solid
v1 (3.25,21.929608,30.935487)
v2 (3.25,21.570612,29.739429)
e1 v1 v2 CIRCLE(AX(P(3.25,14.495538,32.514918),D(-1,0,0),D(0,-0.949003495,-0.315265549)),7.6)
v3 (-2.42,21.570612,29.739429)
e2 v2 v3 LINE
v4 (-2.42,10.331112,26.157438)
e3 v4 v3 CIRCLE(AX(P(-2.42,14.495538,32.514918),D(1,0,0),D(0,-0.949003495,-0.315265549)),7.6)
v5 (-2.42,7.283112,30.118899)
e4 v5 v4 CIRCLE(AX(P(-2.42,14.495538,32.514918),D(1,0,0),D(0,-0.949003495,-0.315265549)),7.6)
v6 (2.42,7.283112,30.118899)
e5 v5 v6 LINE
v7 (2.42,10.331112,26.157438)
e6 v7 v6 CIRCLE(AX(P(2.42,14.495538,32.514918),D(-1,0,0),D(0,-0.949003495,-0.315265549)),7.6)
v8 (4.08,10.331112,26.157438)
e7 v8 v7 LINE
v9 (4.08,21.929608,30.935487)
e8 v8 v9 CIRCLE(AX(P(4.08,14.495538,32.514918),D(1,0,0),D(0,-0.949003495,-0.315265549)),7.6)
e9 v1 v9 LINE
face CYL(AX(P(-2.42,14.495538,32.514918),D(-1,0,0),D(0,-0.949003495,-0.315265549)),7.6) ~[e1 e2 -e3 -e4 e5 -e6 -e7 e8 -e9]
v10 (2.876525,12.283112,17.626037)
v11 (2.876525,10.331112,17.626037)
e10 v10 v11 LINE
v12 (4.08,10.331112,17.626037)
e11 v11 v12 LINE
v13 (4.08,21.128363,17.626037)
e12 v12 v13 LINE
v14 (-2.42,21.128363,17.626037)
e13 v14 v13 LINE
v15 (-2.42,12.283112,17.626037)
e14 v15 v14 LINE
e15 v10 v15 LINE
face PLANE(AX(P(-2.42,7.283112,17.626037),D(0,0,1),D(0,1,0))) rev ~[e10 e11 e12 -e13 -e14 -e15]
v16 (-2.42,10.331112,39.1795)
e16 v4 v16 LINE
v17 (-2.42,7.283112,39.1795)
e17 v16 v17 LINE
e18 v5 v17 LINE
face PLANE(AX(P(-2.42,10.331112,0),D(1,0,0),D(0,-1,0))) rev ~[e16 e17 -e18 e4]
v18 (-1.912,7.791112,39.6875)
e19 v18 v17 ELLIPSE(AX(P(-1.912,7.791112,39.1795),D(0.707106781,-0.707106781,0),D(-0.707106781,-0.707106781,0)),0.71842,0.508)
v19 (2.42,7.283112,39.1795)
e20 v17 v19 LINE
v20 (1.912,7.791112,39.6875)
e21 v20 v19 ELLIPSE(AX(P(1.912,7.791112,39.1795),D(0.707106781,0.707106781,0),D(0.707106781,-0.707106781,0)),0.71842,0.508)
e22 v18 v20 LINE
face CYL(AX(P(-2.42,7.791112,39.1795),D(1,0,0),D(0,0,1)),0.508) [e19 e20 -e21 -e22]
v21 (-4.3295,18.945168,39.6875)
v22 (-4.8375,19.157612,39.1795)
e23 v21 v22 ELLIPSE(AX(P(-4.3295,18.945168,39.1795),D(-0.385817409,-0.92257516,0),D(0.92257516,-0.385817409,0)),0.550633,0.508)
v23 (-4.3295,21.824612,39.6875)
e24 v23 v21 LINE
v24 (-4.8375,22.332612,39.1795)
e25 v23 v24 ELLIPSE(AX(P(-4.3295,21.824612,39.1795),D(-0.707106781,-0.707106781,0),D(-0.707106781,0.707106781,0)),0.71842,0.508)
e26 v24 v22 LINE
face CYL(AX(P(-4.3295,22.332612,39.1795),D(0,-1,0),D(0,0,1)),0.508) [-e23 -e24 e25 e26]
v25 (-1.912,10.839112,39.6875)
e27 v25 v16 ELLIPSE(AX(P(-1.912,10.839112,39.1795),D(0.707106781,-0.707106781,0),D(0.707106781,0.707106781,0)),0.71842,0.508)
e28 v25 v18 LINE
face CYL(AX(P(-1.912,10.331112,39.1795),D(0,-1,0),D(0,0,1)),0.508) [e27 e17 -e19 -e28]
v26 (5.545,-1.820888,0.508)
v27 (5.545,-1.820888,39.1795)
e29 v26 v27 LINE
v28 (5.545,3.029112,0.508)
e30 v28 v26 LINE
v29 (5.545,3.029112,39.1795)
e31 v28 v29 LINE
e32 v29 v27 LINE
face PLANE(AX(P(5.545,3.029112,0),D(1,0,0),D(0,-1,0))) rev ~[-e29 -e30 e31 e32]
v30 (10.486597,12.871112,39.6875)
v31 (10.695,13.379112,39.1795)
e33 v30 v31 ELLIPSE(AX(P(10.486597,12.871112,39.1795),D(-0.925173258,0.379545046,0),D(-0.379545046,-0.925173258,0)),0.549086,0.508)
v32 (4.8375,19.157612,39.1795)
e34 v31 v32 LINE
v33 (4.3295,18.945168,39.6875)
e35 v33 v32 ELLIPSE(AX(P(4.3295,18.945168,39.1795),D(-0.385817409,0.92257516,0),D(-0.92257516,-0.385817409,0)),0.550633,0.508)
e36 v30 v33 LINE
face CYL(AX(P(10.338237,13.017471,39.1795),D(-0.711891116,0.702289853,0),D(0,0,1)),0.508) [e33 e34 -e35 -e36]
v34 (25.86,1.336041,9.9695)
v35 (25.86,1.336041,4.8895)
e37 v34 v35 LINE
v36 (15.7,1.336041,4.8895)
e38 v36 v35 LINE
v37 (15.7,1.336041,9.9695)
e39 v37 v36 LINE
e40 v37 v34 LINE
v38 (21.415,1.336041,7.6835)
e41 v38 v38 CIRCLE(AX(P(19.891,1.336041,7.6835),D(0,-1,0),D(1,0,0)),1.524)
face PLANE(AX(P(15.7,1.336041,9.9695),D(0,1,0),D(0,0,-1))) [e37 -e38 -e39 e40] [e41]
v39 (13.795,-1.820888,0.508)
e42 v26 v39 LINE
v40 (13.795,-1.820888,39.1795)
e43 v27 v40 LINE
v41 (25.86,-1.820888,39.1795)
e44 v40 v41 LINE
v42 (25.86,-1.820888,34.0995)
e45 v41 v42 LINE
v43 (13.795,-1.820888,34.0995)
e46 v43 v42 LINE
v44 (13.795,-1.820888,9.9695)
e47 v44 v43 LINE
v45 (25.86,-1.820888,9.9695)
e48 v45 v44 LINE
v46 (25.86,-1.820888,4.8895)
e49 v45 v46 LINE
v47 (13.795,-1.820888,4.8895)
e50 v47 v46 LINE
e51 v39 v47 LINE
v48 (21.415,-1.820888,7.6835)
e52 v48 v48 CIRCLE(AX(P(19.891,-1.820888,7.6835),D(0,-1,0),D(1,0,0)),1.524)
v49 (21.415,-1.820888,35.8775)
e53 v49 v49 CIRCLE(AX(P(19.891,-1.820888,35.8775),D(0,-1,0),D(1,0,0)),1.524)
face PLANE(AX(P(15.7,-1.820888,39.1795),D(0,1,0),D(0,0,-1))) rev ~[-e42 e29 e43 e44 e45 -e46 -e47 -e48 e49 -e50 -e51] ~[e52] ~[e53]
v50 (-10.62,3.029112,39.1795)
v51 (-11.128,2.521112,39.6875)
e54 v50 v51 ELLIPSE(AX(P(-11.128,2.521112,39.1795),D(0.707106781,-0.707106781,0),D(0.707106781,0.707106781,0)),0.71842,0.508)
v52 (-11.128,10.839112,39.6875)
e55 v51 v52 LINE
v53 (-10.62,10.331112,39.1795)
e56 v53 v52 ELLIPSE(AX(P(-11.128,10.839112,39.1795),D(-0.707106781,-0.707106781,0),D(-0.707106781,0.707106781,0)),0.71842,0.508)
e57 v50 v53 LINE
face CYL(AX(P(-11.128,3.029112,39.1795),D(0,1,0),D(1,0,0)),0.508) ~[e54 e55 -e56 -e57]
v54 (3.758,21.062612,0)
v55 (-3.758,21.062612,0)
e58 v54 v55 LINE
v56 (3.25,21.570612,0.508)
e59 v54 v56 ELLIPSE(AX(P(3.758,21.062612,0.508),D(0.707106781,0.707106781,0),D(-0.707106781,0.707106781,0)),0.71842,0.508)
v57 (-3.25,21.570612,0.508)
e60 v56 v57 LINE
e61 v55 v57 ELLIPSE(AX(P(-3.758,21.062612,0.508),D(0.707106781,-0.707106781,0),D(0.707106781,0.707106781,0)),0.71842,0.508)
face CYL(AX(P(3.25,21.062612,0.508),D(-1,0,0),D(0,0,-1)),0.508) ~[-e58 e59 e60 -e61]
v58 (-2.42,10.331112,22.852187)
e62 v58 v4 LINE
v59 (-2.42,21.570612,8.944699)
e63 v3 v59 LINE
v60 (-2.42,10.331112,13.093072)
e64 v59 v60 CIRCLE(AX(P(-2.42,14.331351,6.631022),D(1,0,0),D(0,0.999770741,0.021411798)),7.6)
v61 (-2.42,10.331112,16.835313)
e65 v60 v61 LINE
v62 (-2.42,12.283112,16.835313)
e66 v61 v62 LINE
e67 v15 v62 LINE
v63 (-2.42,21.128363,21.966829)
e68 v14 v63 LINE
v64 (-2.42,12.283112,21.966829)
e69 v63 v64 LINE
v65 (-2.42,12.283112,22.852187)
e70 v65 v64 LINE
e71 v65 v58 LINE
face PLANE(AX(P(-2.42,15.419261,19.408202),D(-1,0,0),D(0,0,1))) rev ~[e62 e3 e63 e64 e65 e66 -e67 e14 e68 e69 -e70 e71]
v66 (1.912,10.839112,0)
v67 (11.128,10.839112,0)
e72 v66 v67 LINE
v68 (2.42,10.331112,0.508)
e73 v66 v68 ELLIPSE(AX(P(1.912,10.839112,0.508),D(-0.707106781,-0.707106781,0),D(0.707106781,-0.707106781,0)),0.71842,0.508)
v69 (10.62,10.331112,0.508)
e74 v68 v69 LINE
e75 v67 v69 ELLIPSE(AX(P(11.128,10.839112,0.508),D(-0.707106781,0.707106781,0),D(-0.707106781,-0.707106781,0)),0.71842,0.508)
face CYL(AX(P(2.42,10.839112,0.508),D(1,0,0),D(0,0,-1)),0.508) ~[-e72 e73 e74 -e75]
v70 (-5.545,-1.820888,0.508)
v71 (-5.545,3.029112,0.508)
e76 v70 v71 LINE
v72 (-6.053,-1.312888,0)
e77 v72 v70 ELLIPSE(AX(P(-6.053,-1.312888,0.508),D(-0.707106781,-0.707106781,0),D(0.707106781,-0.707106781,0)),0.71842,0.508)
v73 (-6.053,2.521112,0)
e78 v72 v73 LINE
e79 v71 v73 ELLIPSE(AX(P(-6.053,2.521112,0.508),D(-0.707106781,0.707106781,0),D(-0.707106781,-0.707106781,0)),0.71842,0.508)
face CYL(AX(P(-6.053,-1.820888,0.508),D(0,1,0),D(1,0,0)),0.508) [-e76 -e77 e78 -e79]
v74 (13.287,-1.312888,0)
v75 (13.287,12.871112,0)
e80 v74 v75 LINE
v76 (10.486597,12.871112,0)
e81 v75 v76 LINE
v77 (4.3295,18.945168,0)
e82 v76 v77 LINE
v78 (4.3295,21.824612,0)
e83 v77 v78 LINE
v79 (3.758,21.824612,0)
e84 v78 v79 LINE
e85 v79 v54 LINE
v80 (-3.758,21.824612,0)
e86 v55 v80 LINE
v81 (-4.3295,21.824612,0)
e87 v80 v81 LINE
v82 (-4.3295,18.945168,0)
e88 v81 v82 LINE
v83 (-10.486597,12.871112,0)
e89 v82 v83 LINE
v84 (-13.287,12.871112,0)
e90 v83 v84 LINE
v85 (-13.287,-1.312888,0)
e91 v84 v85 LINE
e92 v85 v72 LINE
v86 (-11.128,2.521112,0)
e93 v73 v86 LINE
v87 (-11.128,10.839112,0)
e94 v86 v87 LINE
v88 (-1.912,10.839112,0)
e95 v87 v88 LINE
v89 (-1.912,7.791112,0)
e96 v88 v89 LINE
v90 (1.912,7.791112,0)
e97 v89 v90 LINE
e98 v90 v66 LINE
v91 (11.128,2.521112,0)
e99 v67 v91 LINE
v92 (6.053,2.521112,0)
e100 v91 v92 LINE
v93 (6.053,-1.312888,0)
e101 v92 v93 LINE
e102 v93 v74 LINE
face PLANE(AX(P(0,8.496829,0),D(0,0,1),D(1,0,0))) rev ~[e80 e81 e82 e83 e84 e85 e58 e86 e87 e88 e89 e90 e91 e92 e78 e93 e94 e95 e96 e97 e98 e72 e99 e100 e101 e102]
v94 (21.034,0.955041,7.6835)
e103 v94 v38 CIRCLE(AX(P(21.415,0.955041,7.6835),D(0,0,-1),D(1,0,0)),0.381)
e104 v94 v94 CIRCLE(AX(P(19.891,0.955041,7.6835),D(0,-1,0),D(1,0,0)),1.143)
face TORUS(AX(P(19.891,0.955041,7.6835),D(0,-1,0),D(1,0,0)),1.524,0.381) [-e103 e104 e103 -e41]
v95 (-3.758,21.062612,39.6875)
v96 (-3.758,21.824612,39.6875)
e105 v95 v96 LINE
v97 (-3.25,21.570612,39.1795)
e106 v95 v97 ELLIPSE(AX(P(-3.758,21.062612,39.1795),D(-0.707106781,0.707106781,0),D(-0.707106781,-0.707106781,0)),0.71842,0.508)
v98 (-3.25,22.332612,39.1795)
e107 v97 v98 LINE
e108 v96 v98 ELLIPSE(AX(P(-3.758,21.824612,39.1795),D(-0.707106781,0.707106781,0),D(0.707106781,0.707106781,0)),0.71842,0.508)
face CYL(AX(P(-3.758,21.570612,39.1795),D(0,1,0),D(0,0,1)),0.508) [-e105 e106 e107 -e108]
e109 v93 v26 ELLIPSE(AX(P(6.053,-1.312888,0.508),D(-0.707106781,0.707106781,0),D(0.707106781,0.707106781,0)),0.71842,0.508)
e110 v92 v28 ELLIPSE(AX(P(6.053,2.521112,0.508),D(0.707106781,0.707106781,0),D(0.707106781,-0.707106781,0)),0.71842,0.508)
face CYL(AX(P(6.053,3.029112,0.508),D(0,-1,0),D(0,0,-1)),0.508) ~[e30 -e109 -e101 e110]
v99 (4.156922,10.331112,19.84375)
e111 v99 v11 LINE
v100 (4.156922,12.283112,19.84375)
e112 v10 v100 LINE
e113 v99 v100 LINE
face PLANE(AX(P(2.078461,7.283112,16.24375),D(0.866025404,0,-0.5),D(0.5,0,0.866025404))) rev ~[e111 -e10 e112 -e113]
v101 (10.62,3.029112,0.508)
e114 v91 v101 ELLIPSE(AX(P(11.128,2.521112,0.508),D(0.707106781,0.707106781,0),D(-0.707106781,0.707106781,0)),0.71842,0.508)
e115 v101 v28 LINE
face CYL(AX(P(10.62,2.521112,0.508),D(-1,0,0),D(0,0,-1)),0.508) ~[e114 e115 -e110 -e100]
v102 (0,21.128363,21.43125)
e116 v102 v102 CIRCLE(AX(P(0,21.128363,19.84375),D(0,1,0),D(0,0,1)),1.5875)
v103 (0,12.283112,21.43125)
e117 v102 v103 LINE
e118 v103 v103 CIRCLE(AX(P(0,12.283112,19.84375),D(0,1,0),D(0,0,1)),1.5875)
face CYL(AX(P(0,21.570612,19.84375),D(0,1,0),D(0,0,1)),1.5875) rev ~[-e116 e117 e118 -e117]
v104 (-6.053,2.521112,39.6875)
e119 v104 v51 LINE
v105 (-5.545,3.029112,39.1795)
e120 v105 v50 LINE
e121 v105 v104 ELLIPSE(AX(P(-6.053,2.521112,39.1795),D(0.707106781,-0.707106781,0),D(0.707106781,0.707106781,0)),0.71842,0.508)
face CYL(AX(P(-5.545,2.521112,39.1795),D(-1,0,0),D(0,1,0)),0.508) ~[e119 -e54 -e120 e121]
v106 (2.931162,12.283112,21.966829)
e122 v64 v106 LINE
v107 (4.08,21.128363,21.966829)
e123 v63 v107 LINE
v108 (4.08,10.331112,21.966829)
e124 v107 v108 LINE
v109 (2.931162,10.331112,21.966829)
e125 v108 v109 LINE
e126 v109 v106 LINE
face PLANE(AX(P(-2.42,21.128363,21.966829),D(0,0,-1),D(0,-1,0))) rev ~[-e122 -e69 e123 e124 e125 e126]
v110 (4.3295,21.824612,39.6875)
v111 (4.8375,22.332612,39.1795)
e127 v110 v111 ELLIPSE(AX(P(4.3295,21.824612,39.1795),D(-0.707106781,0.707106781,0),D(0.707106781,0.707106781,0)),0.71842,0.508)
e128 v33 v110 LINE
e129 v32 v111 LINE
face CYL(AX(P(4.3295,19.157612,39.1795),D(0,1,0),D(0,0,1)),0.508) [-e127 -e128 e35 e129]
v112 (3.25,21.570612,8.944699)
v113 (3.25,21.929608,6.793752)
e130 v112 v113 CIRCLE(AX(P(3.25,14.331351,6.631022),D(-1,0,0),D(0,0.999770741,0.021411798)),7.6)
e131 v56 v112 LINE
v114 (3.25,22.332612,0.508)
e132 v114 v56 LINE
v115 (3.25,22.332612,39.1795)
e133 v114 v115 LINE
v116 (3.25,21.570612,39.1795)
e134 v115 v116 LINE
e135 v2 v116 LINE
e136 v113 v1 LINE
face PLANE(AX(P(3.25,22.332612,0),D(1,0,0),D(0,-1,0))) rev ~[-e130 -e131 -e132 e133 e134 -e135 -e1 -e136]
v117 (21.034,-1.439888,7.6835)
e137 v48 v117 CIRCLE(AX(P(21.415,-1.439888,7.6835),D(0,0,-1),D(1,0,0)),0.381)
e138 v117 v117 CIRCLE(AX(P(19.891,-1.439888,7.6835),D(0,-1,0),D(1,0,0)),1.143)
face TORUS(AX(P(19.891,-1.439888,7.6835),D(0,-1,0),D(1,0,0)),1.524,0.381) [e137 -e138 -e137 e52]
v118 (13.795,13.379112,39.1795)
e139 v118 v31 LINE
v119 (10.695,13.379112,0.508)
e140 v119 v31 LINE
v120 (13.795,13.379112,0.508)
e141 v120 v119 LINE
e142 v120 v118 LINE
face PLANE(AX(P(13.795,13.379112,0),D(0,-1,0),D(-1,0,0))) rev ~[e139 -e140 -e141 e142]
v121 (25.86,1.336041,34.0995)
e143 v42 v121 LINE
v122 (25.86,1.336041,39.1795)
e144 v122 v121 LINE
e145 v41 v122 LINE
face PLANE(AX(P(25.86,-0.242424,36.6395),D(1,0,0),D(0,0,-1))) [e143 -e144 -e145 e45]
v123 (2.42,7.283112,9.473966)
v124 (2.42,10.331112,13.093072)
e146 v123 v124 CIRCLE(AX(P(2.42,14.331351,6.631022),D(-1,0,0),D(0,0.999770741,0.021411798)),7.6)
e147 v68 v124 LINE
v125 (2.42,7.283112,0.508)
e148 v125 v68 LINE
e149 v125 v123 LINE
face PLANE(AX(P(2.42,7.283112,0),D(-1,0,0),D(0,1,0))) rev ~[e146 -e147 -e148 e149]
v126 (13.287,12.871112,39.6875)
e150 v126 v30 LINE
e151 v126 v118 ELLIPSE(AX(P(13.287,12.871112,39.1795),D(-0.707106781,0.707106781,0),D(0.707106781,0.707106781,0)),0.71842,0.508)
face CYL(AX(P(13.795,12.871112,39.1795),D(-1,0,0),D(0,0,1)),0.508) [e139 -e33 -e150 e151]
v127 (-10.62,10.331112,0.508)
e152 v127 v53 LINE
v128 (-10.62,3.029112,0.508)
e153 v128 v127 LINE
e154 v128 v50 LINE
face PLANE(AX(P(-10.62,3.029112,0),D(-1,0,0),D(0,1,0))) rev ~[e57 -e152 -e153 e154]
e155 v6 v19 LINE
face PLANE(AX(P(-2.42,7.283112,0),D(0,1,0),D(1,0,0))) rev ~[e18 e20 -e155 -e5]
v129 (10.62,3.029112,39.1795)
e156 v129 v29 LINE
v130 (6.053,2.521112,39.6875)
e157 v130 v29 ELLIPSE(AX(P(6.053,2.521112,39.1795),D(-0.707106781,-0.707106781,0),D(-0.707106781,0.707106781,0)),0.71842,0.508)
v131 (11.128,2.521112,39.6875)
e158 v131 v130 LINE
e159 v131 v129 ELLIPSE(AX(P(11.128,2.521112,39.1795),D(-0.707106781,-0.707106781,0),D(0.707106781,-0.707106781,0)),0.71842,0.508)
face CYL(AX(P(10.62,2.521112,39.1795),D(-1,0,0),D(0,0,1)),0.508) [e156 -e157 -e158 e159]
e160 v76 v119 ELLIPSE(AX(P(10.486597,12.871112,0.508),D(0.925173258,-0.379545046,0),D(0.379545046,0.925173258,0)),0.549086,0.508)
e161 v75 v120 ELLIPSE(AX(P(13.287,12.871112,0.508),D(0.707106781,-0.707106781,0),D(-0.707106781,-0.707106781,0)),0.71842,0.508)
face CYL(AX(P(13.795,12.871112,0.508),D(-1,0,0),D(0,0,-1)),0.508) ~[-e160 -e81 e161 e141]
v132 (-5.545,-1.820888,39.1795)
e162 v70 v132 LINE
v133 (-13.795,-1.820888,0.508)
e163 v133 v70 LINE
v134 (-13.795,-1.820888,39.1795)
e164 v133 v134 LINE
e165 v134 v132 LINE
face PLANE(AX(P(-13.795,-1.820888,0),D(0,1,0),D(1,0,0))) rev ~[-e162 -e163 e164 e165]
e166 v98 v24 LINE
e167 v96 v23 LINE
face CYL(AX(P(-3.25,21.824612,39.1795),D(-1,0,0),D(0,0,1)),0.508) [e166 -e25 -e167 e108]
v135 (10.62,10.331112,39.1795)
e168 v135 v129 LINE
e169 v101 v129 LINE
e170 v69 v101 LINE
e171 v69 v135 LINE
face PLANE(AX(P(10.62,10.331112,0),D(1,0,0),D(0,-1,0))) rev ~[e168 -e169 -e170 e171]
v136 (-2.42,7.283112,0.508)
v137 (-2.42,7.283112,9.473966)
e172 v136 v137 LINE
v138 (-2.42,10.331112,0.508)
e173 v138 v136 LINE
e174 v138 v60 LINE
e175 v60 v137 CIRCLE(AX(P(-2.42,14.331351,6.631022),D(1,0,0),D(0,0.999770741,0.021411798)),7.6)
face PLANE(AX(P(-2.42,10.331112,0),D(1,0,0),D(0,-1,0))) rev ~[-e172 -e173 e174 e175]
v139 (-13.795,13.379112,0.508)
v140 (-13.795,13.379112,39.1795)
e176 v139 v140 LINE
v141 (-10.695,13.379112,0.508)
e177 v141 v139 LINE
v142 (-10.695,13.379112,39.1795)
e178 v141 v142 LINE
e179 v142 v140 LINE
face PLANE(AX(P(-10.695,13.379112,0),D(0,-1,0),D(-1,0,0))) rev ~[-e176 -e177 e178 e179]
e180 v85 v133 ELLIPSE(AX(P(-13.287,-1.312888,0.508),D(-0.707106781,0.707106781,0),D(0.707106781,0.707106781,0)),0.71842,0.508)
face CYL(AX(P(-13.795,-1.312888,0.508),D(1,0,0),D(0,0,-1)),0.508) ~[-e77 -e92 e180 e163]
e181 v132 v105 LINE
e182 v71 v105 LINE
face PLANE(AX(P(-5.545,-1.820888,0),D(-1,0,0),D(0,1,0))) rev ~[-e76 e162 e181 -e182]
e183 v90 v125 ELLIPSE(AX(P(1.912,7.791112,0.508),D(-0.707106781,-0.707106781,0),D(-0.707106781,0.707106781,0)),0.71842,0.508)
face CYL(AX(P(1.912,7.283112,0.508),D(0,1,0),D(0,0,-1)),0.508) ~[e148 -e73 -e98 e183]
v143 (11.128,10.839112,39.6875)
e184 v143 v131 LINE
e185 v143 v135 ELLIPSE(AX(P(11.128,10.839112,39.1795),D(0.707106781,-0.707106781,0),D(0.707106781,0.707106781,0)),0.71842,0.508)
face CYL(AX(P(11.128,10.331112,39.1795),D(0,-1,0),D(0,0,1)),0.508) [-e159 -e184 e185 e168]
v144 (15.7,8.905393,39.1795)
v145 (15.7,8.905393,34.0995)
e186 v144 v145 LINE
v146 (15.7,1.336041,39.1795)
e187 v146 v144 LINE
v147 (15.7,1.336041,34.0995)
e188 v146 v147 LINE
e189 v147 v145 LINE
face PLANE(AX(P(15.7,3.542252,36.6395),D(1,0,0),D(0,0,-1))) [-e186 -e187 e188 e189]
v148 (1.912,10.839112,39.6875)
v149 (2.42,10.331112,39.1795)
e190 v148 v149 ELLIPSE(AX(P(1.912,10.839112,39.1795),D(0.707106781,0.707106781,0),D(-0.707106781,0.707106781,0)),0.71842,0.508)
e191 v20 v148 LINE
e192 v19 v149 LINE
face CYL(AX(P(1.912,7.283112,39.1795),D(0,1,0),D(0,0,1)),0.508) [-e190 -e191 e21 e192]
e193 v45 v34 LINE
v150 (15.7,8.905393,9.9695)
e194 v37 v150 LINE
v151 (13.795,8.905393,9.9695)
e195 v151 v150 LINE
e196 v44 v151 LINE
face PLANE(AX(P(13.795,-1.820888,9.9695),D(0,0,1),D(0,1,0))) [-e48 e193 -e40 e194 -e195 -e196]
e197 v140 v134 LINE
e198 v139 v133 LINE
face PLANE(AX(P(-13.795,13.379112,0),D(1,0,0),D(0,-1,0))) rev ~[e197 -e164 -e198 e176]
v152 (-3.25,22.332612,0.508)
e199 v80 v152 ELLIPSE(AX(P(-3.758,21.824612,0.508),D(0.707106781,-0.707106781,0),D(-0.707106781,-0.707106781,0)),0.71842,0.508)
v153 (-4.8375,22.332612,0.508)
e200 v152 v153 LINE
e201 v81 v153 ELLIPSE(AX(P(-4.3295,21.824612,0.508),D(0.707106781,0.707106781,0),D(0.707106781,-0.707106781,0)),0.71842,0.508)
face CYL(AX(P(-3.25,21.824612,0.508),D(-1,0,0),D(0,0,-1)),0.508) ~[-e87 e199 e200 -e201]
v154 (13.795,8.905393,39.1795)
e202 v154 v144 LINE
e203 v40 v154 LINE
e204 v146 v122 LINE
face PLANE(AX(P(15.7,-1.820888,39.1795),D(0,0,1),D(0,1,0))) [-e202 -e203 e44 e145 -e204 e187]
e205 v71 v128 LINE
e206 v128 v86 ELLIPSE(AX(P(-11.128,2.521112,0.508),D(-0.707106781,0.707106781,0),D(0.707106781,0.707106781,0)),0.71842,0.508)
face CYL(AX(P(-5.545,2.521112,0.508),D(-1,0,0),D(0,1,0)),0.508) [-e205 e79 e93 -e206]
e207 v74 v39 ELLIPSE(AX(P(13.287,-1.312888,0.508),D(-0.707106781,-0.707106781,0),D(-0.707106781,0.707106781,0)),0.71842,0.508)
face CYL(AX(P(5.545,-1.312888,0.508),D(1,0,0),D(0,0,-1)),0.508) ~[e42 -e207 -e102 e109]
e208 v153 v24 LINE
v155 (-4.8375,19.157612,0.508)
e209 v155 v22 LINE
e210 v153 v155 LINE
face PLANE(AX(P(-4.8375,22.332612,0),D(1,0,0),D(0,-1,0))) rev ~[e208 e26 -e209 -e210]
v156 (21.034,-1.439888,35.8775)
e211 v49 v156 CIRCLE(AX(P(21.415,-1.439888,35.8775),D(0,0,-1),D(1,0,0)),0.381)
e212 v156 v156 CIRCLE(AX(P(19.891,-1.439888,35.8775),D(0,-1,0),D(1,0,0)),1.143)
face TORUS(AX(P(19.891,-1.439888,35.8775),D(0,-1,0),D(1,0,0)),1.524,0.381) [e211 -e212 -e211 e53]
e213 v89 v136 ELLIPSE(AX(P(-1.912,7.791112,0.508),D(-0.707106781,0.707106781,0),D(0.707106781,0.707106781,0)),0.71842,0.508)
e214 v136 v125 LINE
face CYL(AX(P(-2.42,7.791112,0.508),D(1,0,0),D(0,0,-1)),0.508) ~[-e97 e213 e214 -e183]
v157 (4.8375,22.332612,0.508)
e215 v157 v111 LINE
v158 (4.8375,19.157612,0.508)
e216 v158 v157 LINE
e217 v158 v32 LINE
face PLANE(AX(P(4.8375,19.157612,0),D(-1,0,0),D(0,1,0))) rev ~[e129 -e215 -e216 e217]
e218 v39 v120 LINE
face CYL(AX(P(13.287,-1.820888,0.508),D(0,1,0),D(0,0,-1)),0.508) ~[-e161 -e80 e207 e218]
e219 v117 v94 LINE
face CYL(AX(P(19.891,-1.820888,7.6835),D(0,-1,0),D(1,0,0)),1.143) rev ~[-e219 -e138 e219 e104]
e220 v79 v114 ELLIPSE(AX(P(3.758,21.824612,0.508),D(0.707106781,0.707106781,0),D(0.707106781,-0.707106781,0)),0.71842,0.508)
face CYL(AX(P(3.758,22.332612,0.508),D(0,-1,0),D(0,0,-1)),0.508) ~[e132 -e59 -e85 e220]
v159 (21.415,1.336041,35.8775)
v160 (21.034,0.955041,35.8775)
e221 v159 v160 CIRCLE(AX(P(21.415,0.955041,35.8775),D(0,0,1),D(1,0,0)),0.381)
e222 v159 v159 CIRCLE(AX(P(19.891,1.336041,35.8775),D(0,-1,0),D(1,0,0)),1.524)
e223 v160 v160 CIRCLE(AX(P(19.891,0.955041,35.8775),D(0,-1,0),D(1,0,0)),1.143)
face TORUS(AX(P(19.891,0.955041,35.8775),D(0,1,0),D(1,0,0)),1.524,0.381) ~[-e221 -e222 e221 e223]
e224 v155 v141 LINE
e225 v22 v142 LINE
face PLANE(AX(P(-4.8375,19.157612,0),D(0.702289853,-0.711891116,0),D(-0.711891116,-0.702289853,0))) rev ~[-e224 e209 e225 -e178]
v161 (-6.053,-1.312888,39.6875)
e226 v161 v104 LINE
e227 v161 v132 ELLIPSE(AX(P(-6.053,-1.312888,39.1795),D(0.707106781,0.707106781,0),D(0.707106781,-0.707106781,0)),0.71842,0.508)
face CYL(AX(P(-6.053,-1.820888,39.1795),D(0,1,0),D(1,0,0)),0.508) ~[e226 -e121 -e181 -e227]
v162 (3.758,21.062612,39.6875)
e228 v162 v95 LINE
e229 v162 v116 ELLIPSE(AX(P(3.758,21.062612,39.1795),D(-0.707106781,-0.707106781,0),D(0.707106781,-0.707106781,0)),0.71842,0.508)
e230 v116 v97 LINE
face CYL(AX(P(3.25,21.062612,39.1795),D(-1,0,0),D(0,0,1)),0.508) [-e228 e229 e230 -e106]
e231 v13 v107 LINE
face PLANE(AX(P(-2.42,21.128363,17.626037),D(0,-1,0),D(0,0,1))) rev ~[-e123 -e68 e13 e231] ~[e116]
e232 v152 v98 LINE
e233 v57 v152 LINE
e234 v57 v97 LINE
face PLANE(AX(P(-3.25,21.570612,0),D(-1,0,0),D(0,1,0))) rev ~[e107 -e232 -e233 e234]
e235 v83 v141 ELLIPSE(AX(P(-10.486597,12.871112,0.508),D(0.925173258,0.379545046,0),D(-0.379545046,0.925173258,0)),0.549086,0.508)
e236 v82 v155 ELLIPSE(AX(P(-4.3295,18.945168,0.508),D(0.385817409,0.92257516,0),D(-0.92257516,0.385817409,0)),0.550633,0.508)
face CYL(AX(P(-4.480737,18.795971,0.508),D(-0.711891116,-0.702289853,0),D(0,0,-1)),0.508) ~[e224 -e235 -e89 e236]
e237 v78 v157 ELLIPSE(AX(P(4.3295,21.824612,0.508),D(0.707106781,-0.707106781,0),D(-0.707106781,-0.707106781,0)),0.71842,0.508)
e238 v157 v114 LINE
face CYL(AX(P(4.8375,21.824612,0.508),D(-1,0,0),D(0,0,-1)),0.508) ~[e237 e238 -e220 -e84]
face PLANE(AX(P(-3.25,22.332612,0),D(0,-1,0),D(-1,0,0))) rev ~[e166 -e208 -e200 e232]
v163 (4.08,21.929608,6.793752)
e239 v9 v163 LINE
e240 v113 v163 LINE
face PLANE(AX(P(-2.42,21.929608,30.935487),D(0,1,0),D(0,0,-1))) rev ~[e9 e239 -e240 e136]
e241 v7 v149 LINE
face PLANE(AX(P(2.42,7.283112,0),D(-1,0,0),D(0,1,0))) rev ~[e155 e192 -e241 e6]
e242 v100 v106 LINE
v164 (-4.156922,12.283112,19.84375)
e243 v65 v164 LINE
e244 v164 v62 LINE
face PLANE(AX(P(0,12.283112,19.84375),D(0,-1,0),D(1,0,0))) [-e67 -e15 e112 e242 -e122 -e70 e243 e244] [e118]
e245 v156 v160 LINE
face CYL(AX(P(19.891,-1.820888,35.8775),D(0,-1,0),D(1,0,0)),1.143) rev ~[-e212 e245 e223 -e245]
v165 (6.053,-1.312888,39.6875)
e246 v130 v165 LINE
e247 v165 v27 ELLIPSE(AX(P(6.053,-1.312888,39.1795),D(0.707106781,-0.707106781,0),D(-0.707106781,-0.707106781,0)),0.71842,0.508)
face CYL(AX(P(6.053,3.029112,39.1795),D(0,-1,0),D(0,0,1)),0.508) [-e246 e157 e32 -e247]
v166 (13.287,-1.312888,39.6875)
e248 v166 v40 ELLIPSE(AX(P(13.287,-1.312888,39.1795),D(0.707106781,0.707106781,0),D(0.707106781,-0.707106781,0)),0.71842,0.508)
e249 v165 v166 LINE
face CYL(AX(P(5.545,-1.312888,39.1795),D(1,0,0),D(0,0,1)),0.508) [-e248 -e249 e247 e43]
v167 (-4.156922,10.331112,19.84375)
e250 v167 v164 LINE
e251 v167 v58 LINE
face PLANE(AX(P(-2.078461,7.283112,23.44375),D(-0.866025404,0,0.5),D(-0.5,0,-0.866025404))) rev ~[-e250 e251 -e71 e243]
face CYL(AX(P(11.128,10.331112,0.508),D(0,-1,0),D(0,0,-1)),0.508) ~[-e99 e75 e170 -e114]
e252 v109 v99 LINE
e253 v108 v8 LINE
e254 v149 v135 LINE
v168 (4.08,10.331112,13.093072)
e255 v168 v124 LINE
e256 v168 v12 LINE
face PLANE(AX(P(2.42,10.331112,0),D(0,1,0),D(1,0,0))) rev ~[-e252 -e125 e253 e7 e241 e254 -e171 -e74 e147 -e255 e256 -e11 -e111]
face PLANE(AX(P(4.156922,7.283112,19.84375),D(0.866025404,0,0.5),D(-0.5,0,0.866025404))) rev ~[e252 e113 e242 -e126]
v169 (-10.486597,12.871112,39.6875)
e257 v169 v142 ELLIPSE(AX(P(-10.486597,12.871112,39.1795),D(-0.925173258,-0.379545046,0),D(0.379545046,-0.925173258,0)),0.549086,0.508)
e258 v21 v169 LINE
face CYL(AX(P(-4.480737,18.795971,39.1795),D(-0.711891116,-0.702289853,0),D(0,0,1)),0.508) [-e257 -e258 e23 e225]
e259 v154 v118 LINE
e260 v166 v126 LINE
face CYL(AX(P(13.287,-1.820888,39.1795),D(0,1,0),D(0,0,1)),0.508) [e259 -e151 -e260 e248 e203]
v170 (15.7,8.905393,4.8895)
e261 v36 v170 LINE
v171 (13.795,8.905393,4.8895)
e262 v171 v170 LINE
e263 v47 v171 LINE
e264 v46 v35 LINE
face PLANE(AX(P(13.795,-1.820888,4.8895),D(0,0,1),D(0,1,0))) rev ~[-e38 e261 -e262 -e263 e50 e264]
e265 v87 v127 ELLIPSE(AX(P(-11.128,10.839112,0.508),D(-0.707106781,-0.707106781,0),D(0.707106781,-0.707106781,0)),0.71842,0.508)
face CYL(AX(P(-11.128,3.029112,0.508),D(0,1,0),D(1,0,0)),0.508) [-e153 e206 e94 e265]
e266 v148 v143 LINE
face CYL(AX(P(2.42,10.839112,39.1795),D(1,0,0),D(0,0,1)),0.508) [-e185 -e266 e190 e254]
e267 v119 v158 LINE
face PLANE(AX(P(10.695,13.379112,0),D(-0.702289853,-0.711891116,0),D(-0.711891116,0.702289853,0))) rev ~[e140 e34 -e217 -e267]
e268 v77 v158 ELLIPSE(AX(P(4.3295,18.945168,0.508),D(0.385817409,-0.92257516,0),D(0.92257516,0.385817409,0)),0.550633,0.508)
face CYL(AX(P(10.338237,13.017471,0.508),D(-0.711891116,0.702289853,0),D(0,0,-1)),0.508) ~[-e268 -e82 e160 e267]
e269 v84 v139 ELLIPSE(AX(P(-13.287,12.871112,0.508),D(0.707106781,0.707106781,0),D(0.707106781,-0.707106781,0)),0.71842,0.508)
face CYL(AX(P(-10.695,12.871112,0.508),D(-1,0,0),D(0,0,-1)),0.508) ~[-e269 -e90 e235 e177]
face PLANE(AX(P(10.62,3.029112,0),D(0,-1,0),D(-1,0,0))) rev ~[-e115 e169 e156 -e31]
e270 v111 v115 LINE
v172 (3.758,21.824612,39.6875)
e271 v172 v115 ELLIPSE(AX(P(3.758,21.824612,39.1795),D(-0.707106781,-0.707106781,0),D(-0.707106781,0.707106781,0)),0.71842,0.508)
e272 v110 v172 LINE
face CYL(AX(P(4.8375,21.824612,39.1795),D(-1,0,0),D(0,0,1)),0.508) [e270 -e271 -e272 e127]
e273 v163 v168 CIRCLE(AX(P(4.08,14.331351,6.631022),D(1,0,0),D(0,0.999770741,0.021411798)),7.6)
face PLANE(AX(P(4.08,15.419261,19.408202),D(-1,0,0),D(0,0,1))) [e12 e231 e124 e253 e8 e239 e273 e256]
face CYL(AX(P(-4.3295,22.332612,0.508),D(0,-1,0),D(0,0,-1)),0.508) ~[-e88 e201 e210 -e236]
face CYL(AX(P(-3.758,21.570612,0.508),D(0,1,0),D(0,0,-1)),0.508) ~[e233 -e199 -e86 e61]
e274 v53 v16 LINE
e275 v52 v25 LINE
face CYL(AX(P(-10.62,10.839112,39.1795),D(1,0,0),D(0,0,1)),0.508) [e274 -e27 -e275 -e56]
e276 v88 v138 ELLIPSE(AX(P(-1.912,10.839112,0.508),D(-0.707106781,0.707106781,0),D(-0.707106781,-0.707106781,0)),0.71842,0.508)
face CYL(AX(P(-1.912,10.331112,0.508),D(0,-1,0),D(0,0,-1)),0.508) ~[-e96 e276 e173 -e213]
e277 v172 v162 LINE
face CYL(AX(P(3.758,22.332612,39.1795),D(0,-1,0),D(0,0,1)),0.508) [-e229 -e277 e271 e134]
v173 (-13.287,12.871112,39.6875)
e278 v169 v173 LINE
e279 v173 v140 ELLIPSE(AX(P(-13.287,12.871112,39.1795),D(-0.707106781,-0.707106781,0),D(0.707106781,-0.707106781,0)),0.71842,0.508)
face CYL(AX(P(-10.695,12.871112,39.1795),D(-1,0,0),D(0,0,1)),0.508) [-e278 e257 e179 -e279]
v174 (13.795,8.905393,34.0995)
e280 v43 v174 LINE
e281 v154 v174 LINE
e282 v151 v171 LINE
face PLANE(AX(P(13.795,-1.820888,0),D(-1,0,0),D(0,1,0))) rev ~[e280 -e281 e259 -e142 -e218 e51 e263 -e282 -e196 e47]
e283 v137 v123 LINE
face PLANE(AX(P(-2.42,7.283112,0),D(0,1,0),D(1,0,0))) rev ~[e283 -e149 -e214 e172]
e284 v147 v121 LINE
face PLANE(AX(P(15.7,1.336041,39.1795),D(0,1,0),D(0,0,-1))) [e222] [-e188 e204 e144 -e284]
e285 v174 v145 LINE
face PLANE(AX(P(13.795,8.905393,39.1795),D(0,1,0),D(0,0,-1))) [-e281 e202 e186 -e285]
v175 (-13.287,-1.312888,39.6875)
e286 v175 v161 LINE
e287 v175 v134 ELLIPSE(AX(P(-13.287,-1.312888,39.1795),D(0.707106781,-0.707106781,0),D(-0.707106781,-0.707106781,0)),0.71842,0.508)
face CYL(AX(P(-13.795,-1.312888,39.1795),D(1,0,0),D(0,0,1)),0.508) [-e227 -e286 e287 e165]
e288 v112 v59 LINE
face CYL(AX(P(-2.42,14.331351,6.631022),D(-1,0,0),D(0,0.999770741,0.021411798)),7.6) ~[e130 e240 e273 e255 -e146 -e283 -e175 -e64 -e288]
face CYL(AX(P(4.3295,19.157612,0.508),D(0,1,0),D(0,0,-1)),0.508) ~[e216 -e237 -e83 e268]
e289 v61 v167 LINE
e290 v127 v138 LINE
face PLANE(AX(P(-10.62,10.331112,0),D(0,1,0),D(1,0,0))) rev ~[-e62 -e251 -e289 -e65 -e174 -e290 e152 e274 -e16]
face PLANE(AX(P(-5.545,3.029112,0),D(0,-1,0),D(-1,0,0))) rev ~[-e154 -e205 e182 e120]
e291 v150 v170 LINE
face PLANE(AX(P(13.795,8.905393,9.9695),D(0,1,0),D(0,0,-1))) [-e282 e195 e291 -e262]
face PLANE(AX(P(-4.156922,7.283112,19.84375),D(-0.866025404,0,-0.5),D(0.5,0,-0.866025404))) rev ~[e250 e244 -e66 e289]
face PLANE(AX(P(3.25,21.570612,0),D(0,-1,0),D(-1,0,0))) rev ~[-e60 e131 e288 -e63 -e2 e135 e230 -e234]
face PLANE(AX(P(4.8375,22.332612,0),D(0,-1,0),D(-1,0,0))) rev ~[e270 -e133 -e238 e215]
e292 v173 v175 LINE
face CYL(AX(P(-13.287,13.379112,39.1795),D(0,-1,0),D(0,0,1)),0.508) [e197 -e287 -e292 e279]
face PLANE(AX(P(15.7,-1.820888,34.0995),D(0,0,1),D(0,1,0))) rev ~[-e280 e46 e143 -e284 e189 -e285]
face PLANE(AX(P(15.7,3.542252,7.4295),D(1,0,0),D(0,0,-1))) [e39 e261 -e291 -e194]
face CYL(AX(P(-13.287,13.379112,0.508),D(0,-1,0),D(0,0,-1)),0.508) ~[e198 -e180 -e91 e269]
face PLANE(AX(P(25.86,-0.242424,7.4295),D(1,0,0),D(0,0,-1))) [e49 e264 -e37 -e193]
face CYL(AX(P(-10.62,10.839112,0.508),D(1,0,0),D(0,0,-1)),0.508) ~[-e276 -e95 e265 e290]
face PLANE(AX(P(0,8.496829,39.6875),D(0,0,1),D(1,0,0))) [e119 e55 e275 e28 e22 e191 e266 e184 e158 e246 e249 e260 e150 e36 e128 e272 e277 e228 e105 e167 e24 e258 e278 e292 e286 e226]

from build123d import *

# Parameters (mm, degrees)
BOSS_EXTRUDE1_DEPTH = 39.6875
SKETCH3_R           = 1.5875
CUT_EXTRUDE1_DEPTH  = 39.6875
CUT_EXTRUDE3_DEPTH  = 5
CUT_EXTRUDE5_DEPTH  = 6.5
FILLET1_R           = 0.508
SKETCH7_W           = 5.08
SKETCH7_H           = 10.72628101
BOSS_EXTRUDE2_DEPTH = 1.905
SKETCH8_W           = 5.08
SKETCH8_H           = 3.15692897
BOSS_EXTRUDE3_DEPTH = 10.16
CUT_EXTRUDE7_REACH  = 55.172
SKETCH9_R           = 1.143
FILLET2_R           = 0.381


with BuildPart() as part:
    # Sketch2 → Boss-Extrude1 (new body)
    with BuildSketch(Plane.XY):
        Polygon((-5.545, 3.02911179), (-10.62, 3.02911179), (-10.62, 10.33111179), (-2.42, 10.33111179), (-2.42, 7.28311179), (2.42, 7.28311179), (2.42, 10.33111179), (10.62, 10.33111179), (10.62, 3.02911179), (5.545, 3.02911179), (5.545, -1.82088821), (13.795, -1.82088821), (13.795, 13.37911179), (10.695, 13.37911179), (4.8375, 19.15761179), (4.8375, 22.33261179), (3.25, 22.33261179), (3.25, 21.57061179), (-3.25, 21.57061179), (-3.25, 22.33261179), (-4.8375, 22.33261179), (-4.8375, 19.15761179), (-10.695, 13.37911179), (-13.795, 13.37911179), (-13.795, -1.82088821), (-5.545, -1.82088821), align=None)
    extrude(amount=BOSS_EXTRUDE1_DEPTH)

    # Sketch3 → Cut-Extrude1 (cut)
    with BuildSketch(Plane(origin=(0, 21.57061179, 0), x_dir=(1, 0, 0), z_dir=(0, 1, 0))):
        with Locations(Location((0, -19.84375, 0), (0, 0, 270))):
            Circle(SKETCH3_R)
    extrude(amount=-CUT_EXTRUDE1_DEPTH, mode=Mode.SUBTRACT)

    # Sketch4 → Cut-Extrude3 (cut)
    with BuildSketch(Plane.XZ.offset(-7.28311179)):
        Polygon((2.078460969, 16.24375), (4.156921938, 19.84375), (2.078460969, 23.44375), (-2.078460969, 23.44375), (-4.156921938, 19.84375), (-2.078460969, 16.24375), align=None)
    extrude(amount=-CUT_EXTRUDE3_DEPTH, mode=Mode.SUBTRACT)

    # Sketch5 → Cut-Extrude5 (cut)
    with BuildSketch(Plane.ZY.offset(2.42)):
        with BuildLine():
            Line((30.935486639, 21.929608435), (6.793752093, 21.929608435))
            ThreePointArc((6.793752093, 21.929608435), (14.106882481, 15.699384594), (9.473965766, 7.28311179))
            Line((9.473965766, 7.28311179), (17.626036587, 7.28311179))
            Line((17.626036587, 7.28311179), (17.626036587, 21.128362833))
            Line((17.626036587, 21.128362833), (21.966828552, 21.128362833))
            Line((21.966828552, 21.128362833), (21.966828552, 7.28311179))
            Line((21.966828552, 7.28311179), (30.118899373, 7.28311179))
            ThreePointArc((30.118899373, 7.28311179), (24.926702023, 14.918604722), (30.935486639, 21.929608435))
        make_face()
    extrude(amount=-CUT_EXTRUDE5_DEPTH, mode=Mode.SUBTRACT)

    # Fillet1
    fillet1_edges = [part.edges().sort_by_distance(p)[0] for p in [
        (-13.795, 5.77911179, 39.6875),
        (-9.67, -1.82088821, 39.6875),
        (-10.62, 6.68011179, 39.6875),
        (-6.52, 10.33111179, 39.6875),
        (-2.42, 8.80711179, 39.6875),
        (-9.67, -1.82088821, 0),
        (0, 7.28311179, 39.6875),
        (-13.795, 5.77911179, 0),
        (-12.245, 13.37911179, 0),
        (-7.76625, 16.26836179, 0),
        (-4.8375, 20.74511179, 0),
        (-4.04375, 22.33261179, 0),
        (-3.25, 21.95161179, 0),
        (0, 21.57061179, 0),
        (3.25, 21.95161179, 0),
        (4.04375, 22.33261179, 0),
        (4.8375, 20.74511179, 0),
        (2.42, 8.80711179, 39.6875),
        (7.76625, 16.26836179, 0),
        (12.245, 13.37911179, 0),
        (13.795, 5.77911179, 0),
        (9.67, -1.82088821, 0),
        (5.545, 0.60411179, 0),
        (8.0825, 3.02911179, 0),
        (10.62, 6.68011179, 0),
        (6.52, 10.33111179, 0),
        (2.42, 8.80711179, 0),
        (0, 7.28311179, 0),
        (6.52, 10.33111179, 39.6875),
        (-2.42, 8.80711179, 0),
        (-6.52, 10.33111179, 0),
        (-10.62, 6.68011179, 0),
        (-8.0825, 3.02911179, 0),
        (-5.545, 0.60411179, 0),
        (10.62, 6.68011179, 39.6875),
        (8.0825, 3.02911179, 39.6875),
        (5.545, 0.60411179, 39.6875),
        (9.67, -1.82088821, 39.6875),
        (-5.545, 0.60411179, 39.6875),
        (13.795, 5.77911179, 39.6875),
        (12.245, 13.37911179, 39.6875),
        (7.76625, 16.26836179, 39.6875),
        (4.8375, 20.74511179, 39.6875),
        (4.04375, 22.33261179, 39.6875),
        (3.25, 21.95161179, 39.6875),
        (0, 21.57061179, 39.6875),
        (-3.25, 21.95161179, 39.6875),
        (-4.04375, 22.33261179, 39.6875),
        (-4.8375, 20.74511179, 39.6875),
        (-8.0825, 3.02911179, 39.6875),
        (-7.76625, 16.26836179, 39.6875),
        (-12.245, 13.37911179, 39.6875),
    ]]
    fillet(fillet1_edges, radius=FILLET1_R)

    # Sketch7 → Boss-Extrude2 (add)
    with BuildSketch(Plane(origin=(13.795, 0, 0), x_dir=(0, 0, -1), z_dir=(1, 0, 0))):
        with Locations((-36.6395, 3.542252295)):
            Rectangle(SKETCH7_W, SKETCH7_H)
        with Locations((-7.4295, 3.542252295)):
            Rectangle(SKETCH7_W, SKETCH7_H)
    extrude(amount=BOSS_EXTRUDE2_DEPTH)

    # Sketch8 → Boss-Extrude3 (add)
    with BuildSketch(Plane(origin=(15.7, 0, 0), x_dir=(0, 0, -1), z_dir=(1, 0, 0))):
        with Locations((-36.6395, -0.242423725)):
            Rectangle(SKETCH8_W, SKETCH8_H)
        with Locations((-7.4295, -0.242423725)):
            Rectangle(SKETCH8_W, SKETCH8_H)
    extrude(amount=BOSS_EXTRUDE3_DEPTH)

    # Sketch9 → Cut-Extrude7 (cut, up to next)
    with BuildSketch(Plane.XZ.offset(1.82088821), mode=Mode.PRIVATE) as cut_extrude7_sk1:
        with Locations((19.891, 35.8775)):
            Circle(SKETCH9_R)
    cut_extrude7_tool1 = extrude(cut_extrude7_sk1.sketch, amount=-CUT_EXTRUDE7_REACH, mode=Mode.PRIVATE) & part.part
    # Sketch9 → Cut-Extrude7 (cut, up to next)
    with BuildSketch(Plane.XZ.offset(1.82088821), mode=Mode.PRIVATE) as cut_extrude7_sk2:
        with Locations((19.891, 7.6835)):
            Circle(SKETCH9_R)
    cut_extrude7_tool2 = extrude(cut_extrude7_sk2.sketch, amount=-CUT_EXTRUDE7_REACH, mode=Mode.PRIVATE) & part.part
    add(cut_extrude7_tool1.solids().sort_by_distance((19.891, -1.820888, 35.8775))[0], mode=Mode.SUBTRACT)
    add(cut_extrude7_tool2.solids().sort_by_distance((19.891, -1.820888, 7.6835))[0], mode=Mode.SUBTRACT)

    # Fillet2
    fillet2_edges = [part.edges().sort_by_distance(p)[0] for p in [
        (18.748, 1.33604076, 35.8775),
        (18.748, -1.82088821, 35.8775),
        (18.748, 1.33604076, 7.6835),
        (18.748, -1.82088821, 7.6835),
    ]]
    fillet(fillet2_edges, radius=FILLET2_R)


solid = part.part
